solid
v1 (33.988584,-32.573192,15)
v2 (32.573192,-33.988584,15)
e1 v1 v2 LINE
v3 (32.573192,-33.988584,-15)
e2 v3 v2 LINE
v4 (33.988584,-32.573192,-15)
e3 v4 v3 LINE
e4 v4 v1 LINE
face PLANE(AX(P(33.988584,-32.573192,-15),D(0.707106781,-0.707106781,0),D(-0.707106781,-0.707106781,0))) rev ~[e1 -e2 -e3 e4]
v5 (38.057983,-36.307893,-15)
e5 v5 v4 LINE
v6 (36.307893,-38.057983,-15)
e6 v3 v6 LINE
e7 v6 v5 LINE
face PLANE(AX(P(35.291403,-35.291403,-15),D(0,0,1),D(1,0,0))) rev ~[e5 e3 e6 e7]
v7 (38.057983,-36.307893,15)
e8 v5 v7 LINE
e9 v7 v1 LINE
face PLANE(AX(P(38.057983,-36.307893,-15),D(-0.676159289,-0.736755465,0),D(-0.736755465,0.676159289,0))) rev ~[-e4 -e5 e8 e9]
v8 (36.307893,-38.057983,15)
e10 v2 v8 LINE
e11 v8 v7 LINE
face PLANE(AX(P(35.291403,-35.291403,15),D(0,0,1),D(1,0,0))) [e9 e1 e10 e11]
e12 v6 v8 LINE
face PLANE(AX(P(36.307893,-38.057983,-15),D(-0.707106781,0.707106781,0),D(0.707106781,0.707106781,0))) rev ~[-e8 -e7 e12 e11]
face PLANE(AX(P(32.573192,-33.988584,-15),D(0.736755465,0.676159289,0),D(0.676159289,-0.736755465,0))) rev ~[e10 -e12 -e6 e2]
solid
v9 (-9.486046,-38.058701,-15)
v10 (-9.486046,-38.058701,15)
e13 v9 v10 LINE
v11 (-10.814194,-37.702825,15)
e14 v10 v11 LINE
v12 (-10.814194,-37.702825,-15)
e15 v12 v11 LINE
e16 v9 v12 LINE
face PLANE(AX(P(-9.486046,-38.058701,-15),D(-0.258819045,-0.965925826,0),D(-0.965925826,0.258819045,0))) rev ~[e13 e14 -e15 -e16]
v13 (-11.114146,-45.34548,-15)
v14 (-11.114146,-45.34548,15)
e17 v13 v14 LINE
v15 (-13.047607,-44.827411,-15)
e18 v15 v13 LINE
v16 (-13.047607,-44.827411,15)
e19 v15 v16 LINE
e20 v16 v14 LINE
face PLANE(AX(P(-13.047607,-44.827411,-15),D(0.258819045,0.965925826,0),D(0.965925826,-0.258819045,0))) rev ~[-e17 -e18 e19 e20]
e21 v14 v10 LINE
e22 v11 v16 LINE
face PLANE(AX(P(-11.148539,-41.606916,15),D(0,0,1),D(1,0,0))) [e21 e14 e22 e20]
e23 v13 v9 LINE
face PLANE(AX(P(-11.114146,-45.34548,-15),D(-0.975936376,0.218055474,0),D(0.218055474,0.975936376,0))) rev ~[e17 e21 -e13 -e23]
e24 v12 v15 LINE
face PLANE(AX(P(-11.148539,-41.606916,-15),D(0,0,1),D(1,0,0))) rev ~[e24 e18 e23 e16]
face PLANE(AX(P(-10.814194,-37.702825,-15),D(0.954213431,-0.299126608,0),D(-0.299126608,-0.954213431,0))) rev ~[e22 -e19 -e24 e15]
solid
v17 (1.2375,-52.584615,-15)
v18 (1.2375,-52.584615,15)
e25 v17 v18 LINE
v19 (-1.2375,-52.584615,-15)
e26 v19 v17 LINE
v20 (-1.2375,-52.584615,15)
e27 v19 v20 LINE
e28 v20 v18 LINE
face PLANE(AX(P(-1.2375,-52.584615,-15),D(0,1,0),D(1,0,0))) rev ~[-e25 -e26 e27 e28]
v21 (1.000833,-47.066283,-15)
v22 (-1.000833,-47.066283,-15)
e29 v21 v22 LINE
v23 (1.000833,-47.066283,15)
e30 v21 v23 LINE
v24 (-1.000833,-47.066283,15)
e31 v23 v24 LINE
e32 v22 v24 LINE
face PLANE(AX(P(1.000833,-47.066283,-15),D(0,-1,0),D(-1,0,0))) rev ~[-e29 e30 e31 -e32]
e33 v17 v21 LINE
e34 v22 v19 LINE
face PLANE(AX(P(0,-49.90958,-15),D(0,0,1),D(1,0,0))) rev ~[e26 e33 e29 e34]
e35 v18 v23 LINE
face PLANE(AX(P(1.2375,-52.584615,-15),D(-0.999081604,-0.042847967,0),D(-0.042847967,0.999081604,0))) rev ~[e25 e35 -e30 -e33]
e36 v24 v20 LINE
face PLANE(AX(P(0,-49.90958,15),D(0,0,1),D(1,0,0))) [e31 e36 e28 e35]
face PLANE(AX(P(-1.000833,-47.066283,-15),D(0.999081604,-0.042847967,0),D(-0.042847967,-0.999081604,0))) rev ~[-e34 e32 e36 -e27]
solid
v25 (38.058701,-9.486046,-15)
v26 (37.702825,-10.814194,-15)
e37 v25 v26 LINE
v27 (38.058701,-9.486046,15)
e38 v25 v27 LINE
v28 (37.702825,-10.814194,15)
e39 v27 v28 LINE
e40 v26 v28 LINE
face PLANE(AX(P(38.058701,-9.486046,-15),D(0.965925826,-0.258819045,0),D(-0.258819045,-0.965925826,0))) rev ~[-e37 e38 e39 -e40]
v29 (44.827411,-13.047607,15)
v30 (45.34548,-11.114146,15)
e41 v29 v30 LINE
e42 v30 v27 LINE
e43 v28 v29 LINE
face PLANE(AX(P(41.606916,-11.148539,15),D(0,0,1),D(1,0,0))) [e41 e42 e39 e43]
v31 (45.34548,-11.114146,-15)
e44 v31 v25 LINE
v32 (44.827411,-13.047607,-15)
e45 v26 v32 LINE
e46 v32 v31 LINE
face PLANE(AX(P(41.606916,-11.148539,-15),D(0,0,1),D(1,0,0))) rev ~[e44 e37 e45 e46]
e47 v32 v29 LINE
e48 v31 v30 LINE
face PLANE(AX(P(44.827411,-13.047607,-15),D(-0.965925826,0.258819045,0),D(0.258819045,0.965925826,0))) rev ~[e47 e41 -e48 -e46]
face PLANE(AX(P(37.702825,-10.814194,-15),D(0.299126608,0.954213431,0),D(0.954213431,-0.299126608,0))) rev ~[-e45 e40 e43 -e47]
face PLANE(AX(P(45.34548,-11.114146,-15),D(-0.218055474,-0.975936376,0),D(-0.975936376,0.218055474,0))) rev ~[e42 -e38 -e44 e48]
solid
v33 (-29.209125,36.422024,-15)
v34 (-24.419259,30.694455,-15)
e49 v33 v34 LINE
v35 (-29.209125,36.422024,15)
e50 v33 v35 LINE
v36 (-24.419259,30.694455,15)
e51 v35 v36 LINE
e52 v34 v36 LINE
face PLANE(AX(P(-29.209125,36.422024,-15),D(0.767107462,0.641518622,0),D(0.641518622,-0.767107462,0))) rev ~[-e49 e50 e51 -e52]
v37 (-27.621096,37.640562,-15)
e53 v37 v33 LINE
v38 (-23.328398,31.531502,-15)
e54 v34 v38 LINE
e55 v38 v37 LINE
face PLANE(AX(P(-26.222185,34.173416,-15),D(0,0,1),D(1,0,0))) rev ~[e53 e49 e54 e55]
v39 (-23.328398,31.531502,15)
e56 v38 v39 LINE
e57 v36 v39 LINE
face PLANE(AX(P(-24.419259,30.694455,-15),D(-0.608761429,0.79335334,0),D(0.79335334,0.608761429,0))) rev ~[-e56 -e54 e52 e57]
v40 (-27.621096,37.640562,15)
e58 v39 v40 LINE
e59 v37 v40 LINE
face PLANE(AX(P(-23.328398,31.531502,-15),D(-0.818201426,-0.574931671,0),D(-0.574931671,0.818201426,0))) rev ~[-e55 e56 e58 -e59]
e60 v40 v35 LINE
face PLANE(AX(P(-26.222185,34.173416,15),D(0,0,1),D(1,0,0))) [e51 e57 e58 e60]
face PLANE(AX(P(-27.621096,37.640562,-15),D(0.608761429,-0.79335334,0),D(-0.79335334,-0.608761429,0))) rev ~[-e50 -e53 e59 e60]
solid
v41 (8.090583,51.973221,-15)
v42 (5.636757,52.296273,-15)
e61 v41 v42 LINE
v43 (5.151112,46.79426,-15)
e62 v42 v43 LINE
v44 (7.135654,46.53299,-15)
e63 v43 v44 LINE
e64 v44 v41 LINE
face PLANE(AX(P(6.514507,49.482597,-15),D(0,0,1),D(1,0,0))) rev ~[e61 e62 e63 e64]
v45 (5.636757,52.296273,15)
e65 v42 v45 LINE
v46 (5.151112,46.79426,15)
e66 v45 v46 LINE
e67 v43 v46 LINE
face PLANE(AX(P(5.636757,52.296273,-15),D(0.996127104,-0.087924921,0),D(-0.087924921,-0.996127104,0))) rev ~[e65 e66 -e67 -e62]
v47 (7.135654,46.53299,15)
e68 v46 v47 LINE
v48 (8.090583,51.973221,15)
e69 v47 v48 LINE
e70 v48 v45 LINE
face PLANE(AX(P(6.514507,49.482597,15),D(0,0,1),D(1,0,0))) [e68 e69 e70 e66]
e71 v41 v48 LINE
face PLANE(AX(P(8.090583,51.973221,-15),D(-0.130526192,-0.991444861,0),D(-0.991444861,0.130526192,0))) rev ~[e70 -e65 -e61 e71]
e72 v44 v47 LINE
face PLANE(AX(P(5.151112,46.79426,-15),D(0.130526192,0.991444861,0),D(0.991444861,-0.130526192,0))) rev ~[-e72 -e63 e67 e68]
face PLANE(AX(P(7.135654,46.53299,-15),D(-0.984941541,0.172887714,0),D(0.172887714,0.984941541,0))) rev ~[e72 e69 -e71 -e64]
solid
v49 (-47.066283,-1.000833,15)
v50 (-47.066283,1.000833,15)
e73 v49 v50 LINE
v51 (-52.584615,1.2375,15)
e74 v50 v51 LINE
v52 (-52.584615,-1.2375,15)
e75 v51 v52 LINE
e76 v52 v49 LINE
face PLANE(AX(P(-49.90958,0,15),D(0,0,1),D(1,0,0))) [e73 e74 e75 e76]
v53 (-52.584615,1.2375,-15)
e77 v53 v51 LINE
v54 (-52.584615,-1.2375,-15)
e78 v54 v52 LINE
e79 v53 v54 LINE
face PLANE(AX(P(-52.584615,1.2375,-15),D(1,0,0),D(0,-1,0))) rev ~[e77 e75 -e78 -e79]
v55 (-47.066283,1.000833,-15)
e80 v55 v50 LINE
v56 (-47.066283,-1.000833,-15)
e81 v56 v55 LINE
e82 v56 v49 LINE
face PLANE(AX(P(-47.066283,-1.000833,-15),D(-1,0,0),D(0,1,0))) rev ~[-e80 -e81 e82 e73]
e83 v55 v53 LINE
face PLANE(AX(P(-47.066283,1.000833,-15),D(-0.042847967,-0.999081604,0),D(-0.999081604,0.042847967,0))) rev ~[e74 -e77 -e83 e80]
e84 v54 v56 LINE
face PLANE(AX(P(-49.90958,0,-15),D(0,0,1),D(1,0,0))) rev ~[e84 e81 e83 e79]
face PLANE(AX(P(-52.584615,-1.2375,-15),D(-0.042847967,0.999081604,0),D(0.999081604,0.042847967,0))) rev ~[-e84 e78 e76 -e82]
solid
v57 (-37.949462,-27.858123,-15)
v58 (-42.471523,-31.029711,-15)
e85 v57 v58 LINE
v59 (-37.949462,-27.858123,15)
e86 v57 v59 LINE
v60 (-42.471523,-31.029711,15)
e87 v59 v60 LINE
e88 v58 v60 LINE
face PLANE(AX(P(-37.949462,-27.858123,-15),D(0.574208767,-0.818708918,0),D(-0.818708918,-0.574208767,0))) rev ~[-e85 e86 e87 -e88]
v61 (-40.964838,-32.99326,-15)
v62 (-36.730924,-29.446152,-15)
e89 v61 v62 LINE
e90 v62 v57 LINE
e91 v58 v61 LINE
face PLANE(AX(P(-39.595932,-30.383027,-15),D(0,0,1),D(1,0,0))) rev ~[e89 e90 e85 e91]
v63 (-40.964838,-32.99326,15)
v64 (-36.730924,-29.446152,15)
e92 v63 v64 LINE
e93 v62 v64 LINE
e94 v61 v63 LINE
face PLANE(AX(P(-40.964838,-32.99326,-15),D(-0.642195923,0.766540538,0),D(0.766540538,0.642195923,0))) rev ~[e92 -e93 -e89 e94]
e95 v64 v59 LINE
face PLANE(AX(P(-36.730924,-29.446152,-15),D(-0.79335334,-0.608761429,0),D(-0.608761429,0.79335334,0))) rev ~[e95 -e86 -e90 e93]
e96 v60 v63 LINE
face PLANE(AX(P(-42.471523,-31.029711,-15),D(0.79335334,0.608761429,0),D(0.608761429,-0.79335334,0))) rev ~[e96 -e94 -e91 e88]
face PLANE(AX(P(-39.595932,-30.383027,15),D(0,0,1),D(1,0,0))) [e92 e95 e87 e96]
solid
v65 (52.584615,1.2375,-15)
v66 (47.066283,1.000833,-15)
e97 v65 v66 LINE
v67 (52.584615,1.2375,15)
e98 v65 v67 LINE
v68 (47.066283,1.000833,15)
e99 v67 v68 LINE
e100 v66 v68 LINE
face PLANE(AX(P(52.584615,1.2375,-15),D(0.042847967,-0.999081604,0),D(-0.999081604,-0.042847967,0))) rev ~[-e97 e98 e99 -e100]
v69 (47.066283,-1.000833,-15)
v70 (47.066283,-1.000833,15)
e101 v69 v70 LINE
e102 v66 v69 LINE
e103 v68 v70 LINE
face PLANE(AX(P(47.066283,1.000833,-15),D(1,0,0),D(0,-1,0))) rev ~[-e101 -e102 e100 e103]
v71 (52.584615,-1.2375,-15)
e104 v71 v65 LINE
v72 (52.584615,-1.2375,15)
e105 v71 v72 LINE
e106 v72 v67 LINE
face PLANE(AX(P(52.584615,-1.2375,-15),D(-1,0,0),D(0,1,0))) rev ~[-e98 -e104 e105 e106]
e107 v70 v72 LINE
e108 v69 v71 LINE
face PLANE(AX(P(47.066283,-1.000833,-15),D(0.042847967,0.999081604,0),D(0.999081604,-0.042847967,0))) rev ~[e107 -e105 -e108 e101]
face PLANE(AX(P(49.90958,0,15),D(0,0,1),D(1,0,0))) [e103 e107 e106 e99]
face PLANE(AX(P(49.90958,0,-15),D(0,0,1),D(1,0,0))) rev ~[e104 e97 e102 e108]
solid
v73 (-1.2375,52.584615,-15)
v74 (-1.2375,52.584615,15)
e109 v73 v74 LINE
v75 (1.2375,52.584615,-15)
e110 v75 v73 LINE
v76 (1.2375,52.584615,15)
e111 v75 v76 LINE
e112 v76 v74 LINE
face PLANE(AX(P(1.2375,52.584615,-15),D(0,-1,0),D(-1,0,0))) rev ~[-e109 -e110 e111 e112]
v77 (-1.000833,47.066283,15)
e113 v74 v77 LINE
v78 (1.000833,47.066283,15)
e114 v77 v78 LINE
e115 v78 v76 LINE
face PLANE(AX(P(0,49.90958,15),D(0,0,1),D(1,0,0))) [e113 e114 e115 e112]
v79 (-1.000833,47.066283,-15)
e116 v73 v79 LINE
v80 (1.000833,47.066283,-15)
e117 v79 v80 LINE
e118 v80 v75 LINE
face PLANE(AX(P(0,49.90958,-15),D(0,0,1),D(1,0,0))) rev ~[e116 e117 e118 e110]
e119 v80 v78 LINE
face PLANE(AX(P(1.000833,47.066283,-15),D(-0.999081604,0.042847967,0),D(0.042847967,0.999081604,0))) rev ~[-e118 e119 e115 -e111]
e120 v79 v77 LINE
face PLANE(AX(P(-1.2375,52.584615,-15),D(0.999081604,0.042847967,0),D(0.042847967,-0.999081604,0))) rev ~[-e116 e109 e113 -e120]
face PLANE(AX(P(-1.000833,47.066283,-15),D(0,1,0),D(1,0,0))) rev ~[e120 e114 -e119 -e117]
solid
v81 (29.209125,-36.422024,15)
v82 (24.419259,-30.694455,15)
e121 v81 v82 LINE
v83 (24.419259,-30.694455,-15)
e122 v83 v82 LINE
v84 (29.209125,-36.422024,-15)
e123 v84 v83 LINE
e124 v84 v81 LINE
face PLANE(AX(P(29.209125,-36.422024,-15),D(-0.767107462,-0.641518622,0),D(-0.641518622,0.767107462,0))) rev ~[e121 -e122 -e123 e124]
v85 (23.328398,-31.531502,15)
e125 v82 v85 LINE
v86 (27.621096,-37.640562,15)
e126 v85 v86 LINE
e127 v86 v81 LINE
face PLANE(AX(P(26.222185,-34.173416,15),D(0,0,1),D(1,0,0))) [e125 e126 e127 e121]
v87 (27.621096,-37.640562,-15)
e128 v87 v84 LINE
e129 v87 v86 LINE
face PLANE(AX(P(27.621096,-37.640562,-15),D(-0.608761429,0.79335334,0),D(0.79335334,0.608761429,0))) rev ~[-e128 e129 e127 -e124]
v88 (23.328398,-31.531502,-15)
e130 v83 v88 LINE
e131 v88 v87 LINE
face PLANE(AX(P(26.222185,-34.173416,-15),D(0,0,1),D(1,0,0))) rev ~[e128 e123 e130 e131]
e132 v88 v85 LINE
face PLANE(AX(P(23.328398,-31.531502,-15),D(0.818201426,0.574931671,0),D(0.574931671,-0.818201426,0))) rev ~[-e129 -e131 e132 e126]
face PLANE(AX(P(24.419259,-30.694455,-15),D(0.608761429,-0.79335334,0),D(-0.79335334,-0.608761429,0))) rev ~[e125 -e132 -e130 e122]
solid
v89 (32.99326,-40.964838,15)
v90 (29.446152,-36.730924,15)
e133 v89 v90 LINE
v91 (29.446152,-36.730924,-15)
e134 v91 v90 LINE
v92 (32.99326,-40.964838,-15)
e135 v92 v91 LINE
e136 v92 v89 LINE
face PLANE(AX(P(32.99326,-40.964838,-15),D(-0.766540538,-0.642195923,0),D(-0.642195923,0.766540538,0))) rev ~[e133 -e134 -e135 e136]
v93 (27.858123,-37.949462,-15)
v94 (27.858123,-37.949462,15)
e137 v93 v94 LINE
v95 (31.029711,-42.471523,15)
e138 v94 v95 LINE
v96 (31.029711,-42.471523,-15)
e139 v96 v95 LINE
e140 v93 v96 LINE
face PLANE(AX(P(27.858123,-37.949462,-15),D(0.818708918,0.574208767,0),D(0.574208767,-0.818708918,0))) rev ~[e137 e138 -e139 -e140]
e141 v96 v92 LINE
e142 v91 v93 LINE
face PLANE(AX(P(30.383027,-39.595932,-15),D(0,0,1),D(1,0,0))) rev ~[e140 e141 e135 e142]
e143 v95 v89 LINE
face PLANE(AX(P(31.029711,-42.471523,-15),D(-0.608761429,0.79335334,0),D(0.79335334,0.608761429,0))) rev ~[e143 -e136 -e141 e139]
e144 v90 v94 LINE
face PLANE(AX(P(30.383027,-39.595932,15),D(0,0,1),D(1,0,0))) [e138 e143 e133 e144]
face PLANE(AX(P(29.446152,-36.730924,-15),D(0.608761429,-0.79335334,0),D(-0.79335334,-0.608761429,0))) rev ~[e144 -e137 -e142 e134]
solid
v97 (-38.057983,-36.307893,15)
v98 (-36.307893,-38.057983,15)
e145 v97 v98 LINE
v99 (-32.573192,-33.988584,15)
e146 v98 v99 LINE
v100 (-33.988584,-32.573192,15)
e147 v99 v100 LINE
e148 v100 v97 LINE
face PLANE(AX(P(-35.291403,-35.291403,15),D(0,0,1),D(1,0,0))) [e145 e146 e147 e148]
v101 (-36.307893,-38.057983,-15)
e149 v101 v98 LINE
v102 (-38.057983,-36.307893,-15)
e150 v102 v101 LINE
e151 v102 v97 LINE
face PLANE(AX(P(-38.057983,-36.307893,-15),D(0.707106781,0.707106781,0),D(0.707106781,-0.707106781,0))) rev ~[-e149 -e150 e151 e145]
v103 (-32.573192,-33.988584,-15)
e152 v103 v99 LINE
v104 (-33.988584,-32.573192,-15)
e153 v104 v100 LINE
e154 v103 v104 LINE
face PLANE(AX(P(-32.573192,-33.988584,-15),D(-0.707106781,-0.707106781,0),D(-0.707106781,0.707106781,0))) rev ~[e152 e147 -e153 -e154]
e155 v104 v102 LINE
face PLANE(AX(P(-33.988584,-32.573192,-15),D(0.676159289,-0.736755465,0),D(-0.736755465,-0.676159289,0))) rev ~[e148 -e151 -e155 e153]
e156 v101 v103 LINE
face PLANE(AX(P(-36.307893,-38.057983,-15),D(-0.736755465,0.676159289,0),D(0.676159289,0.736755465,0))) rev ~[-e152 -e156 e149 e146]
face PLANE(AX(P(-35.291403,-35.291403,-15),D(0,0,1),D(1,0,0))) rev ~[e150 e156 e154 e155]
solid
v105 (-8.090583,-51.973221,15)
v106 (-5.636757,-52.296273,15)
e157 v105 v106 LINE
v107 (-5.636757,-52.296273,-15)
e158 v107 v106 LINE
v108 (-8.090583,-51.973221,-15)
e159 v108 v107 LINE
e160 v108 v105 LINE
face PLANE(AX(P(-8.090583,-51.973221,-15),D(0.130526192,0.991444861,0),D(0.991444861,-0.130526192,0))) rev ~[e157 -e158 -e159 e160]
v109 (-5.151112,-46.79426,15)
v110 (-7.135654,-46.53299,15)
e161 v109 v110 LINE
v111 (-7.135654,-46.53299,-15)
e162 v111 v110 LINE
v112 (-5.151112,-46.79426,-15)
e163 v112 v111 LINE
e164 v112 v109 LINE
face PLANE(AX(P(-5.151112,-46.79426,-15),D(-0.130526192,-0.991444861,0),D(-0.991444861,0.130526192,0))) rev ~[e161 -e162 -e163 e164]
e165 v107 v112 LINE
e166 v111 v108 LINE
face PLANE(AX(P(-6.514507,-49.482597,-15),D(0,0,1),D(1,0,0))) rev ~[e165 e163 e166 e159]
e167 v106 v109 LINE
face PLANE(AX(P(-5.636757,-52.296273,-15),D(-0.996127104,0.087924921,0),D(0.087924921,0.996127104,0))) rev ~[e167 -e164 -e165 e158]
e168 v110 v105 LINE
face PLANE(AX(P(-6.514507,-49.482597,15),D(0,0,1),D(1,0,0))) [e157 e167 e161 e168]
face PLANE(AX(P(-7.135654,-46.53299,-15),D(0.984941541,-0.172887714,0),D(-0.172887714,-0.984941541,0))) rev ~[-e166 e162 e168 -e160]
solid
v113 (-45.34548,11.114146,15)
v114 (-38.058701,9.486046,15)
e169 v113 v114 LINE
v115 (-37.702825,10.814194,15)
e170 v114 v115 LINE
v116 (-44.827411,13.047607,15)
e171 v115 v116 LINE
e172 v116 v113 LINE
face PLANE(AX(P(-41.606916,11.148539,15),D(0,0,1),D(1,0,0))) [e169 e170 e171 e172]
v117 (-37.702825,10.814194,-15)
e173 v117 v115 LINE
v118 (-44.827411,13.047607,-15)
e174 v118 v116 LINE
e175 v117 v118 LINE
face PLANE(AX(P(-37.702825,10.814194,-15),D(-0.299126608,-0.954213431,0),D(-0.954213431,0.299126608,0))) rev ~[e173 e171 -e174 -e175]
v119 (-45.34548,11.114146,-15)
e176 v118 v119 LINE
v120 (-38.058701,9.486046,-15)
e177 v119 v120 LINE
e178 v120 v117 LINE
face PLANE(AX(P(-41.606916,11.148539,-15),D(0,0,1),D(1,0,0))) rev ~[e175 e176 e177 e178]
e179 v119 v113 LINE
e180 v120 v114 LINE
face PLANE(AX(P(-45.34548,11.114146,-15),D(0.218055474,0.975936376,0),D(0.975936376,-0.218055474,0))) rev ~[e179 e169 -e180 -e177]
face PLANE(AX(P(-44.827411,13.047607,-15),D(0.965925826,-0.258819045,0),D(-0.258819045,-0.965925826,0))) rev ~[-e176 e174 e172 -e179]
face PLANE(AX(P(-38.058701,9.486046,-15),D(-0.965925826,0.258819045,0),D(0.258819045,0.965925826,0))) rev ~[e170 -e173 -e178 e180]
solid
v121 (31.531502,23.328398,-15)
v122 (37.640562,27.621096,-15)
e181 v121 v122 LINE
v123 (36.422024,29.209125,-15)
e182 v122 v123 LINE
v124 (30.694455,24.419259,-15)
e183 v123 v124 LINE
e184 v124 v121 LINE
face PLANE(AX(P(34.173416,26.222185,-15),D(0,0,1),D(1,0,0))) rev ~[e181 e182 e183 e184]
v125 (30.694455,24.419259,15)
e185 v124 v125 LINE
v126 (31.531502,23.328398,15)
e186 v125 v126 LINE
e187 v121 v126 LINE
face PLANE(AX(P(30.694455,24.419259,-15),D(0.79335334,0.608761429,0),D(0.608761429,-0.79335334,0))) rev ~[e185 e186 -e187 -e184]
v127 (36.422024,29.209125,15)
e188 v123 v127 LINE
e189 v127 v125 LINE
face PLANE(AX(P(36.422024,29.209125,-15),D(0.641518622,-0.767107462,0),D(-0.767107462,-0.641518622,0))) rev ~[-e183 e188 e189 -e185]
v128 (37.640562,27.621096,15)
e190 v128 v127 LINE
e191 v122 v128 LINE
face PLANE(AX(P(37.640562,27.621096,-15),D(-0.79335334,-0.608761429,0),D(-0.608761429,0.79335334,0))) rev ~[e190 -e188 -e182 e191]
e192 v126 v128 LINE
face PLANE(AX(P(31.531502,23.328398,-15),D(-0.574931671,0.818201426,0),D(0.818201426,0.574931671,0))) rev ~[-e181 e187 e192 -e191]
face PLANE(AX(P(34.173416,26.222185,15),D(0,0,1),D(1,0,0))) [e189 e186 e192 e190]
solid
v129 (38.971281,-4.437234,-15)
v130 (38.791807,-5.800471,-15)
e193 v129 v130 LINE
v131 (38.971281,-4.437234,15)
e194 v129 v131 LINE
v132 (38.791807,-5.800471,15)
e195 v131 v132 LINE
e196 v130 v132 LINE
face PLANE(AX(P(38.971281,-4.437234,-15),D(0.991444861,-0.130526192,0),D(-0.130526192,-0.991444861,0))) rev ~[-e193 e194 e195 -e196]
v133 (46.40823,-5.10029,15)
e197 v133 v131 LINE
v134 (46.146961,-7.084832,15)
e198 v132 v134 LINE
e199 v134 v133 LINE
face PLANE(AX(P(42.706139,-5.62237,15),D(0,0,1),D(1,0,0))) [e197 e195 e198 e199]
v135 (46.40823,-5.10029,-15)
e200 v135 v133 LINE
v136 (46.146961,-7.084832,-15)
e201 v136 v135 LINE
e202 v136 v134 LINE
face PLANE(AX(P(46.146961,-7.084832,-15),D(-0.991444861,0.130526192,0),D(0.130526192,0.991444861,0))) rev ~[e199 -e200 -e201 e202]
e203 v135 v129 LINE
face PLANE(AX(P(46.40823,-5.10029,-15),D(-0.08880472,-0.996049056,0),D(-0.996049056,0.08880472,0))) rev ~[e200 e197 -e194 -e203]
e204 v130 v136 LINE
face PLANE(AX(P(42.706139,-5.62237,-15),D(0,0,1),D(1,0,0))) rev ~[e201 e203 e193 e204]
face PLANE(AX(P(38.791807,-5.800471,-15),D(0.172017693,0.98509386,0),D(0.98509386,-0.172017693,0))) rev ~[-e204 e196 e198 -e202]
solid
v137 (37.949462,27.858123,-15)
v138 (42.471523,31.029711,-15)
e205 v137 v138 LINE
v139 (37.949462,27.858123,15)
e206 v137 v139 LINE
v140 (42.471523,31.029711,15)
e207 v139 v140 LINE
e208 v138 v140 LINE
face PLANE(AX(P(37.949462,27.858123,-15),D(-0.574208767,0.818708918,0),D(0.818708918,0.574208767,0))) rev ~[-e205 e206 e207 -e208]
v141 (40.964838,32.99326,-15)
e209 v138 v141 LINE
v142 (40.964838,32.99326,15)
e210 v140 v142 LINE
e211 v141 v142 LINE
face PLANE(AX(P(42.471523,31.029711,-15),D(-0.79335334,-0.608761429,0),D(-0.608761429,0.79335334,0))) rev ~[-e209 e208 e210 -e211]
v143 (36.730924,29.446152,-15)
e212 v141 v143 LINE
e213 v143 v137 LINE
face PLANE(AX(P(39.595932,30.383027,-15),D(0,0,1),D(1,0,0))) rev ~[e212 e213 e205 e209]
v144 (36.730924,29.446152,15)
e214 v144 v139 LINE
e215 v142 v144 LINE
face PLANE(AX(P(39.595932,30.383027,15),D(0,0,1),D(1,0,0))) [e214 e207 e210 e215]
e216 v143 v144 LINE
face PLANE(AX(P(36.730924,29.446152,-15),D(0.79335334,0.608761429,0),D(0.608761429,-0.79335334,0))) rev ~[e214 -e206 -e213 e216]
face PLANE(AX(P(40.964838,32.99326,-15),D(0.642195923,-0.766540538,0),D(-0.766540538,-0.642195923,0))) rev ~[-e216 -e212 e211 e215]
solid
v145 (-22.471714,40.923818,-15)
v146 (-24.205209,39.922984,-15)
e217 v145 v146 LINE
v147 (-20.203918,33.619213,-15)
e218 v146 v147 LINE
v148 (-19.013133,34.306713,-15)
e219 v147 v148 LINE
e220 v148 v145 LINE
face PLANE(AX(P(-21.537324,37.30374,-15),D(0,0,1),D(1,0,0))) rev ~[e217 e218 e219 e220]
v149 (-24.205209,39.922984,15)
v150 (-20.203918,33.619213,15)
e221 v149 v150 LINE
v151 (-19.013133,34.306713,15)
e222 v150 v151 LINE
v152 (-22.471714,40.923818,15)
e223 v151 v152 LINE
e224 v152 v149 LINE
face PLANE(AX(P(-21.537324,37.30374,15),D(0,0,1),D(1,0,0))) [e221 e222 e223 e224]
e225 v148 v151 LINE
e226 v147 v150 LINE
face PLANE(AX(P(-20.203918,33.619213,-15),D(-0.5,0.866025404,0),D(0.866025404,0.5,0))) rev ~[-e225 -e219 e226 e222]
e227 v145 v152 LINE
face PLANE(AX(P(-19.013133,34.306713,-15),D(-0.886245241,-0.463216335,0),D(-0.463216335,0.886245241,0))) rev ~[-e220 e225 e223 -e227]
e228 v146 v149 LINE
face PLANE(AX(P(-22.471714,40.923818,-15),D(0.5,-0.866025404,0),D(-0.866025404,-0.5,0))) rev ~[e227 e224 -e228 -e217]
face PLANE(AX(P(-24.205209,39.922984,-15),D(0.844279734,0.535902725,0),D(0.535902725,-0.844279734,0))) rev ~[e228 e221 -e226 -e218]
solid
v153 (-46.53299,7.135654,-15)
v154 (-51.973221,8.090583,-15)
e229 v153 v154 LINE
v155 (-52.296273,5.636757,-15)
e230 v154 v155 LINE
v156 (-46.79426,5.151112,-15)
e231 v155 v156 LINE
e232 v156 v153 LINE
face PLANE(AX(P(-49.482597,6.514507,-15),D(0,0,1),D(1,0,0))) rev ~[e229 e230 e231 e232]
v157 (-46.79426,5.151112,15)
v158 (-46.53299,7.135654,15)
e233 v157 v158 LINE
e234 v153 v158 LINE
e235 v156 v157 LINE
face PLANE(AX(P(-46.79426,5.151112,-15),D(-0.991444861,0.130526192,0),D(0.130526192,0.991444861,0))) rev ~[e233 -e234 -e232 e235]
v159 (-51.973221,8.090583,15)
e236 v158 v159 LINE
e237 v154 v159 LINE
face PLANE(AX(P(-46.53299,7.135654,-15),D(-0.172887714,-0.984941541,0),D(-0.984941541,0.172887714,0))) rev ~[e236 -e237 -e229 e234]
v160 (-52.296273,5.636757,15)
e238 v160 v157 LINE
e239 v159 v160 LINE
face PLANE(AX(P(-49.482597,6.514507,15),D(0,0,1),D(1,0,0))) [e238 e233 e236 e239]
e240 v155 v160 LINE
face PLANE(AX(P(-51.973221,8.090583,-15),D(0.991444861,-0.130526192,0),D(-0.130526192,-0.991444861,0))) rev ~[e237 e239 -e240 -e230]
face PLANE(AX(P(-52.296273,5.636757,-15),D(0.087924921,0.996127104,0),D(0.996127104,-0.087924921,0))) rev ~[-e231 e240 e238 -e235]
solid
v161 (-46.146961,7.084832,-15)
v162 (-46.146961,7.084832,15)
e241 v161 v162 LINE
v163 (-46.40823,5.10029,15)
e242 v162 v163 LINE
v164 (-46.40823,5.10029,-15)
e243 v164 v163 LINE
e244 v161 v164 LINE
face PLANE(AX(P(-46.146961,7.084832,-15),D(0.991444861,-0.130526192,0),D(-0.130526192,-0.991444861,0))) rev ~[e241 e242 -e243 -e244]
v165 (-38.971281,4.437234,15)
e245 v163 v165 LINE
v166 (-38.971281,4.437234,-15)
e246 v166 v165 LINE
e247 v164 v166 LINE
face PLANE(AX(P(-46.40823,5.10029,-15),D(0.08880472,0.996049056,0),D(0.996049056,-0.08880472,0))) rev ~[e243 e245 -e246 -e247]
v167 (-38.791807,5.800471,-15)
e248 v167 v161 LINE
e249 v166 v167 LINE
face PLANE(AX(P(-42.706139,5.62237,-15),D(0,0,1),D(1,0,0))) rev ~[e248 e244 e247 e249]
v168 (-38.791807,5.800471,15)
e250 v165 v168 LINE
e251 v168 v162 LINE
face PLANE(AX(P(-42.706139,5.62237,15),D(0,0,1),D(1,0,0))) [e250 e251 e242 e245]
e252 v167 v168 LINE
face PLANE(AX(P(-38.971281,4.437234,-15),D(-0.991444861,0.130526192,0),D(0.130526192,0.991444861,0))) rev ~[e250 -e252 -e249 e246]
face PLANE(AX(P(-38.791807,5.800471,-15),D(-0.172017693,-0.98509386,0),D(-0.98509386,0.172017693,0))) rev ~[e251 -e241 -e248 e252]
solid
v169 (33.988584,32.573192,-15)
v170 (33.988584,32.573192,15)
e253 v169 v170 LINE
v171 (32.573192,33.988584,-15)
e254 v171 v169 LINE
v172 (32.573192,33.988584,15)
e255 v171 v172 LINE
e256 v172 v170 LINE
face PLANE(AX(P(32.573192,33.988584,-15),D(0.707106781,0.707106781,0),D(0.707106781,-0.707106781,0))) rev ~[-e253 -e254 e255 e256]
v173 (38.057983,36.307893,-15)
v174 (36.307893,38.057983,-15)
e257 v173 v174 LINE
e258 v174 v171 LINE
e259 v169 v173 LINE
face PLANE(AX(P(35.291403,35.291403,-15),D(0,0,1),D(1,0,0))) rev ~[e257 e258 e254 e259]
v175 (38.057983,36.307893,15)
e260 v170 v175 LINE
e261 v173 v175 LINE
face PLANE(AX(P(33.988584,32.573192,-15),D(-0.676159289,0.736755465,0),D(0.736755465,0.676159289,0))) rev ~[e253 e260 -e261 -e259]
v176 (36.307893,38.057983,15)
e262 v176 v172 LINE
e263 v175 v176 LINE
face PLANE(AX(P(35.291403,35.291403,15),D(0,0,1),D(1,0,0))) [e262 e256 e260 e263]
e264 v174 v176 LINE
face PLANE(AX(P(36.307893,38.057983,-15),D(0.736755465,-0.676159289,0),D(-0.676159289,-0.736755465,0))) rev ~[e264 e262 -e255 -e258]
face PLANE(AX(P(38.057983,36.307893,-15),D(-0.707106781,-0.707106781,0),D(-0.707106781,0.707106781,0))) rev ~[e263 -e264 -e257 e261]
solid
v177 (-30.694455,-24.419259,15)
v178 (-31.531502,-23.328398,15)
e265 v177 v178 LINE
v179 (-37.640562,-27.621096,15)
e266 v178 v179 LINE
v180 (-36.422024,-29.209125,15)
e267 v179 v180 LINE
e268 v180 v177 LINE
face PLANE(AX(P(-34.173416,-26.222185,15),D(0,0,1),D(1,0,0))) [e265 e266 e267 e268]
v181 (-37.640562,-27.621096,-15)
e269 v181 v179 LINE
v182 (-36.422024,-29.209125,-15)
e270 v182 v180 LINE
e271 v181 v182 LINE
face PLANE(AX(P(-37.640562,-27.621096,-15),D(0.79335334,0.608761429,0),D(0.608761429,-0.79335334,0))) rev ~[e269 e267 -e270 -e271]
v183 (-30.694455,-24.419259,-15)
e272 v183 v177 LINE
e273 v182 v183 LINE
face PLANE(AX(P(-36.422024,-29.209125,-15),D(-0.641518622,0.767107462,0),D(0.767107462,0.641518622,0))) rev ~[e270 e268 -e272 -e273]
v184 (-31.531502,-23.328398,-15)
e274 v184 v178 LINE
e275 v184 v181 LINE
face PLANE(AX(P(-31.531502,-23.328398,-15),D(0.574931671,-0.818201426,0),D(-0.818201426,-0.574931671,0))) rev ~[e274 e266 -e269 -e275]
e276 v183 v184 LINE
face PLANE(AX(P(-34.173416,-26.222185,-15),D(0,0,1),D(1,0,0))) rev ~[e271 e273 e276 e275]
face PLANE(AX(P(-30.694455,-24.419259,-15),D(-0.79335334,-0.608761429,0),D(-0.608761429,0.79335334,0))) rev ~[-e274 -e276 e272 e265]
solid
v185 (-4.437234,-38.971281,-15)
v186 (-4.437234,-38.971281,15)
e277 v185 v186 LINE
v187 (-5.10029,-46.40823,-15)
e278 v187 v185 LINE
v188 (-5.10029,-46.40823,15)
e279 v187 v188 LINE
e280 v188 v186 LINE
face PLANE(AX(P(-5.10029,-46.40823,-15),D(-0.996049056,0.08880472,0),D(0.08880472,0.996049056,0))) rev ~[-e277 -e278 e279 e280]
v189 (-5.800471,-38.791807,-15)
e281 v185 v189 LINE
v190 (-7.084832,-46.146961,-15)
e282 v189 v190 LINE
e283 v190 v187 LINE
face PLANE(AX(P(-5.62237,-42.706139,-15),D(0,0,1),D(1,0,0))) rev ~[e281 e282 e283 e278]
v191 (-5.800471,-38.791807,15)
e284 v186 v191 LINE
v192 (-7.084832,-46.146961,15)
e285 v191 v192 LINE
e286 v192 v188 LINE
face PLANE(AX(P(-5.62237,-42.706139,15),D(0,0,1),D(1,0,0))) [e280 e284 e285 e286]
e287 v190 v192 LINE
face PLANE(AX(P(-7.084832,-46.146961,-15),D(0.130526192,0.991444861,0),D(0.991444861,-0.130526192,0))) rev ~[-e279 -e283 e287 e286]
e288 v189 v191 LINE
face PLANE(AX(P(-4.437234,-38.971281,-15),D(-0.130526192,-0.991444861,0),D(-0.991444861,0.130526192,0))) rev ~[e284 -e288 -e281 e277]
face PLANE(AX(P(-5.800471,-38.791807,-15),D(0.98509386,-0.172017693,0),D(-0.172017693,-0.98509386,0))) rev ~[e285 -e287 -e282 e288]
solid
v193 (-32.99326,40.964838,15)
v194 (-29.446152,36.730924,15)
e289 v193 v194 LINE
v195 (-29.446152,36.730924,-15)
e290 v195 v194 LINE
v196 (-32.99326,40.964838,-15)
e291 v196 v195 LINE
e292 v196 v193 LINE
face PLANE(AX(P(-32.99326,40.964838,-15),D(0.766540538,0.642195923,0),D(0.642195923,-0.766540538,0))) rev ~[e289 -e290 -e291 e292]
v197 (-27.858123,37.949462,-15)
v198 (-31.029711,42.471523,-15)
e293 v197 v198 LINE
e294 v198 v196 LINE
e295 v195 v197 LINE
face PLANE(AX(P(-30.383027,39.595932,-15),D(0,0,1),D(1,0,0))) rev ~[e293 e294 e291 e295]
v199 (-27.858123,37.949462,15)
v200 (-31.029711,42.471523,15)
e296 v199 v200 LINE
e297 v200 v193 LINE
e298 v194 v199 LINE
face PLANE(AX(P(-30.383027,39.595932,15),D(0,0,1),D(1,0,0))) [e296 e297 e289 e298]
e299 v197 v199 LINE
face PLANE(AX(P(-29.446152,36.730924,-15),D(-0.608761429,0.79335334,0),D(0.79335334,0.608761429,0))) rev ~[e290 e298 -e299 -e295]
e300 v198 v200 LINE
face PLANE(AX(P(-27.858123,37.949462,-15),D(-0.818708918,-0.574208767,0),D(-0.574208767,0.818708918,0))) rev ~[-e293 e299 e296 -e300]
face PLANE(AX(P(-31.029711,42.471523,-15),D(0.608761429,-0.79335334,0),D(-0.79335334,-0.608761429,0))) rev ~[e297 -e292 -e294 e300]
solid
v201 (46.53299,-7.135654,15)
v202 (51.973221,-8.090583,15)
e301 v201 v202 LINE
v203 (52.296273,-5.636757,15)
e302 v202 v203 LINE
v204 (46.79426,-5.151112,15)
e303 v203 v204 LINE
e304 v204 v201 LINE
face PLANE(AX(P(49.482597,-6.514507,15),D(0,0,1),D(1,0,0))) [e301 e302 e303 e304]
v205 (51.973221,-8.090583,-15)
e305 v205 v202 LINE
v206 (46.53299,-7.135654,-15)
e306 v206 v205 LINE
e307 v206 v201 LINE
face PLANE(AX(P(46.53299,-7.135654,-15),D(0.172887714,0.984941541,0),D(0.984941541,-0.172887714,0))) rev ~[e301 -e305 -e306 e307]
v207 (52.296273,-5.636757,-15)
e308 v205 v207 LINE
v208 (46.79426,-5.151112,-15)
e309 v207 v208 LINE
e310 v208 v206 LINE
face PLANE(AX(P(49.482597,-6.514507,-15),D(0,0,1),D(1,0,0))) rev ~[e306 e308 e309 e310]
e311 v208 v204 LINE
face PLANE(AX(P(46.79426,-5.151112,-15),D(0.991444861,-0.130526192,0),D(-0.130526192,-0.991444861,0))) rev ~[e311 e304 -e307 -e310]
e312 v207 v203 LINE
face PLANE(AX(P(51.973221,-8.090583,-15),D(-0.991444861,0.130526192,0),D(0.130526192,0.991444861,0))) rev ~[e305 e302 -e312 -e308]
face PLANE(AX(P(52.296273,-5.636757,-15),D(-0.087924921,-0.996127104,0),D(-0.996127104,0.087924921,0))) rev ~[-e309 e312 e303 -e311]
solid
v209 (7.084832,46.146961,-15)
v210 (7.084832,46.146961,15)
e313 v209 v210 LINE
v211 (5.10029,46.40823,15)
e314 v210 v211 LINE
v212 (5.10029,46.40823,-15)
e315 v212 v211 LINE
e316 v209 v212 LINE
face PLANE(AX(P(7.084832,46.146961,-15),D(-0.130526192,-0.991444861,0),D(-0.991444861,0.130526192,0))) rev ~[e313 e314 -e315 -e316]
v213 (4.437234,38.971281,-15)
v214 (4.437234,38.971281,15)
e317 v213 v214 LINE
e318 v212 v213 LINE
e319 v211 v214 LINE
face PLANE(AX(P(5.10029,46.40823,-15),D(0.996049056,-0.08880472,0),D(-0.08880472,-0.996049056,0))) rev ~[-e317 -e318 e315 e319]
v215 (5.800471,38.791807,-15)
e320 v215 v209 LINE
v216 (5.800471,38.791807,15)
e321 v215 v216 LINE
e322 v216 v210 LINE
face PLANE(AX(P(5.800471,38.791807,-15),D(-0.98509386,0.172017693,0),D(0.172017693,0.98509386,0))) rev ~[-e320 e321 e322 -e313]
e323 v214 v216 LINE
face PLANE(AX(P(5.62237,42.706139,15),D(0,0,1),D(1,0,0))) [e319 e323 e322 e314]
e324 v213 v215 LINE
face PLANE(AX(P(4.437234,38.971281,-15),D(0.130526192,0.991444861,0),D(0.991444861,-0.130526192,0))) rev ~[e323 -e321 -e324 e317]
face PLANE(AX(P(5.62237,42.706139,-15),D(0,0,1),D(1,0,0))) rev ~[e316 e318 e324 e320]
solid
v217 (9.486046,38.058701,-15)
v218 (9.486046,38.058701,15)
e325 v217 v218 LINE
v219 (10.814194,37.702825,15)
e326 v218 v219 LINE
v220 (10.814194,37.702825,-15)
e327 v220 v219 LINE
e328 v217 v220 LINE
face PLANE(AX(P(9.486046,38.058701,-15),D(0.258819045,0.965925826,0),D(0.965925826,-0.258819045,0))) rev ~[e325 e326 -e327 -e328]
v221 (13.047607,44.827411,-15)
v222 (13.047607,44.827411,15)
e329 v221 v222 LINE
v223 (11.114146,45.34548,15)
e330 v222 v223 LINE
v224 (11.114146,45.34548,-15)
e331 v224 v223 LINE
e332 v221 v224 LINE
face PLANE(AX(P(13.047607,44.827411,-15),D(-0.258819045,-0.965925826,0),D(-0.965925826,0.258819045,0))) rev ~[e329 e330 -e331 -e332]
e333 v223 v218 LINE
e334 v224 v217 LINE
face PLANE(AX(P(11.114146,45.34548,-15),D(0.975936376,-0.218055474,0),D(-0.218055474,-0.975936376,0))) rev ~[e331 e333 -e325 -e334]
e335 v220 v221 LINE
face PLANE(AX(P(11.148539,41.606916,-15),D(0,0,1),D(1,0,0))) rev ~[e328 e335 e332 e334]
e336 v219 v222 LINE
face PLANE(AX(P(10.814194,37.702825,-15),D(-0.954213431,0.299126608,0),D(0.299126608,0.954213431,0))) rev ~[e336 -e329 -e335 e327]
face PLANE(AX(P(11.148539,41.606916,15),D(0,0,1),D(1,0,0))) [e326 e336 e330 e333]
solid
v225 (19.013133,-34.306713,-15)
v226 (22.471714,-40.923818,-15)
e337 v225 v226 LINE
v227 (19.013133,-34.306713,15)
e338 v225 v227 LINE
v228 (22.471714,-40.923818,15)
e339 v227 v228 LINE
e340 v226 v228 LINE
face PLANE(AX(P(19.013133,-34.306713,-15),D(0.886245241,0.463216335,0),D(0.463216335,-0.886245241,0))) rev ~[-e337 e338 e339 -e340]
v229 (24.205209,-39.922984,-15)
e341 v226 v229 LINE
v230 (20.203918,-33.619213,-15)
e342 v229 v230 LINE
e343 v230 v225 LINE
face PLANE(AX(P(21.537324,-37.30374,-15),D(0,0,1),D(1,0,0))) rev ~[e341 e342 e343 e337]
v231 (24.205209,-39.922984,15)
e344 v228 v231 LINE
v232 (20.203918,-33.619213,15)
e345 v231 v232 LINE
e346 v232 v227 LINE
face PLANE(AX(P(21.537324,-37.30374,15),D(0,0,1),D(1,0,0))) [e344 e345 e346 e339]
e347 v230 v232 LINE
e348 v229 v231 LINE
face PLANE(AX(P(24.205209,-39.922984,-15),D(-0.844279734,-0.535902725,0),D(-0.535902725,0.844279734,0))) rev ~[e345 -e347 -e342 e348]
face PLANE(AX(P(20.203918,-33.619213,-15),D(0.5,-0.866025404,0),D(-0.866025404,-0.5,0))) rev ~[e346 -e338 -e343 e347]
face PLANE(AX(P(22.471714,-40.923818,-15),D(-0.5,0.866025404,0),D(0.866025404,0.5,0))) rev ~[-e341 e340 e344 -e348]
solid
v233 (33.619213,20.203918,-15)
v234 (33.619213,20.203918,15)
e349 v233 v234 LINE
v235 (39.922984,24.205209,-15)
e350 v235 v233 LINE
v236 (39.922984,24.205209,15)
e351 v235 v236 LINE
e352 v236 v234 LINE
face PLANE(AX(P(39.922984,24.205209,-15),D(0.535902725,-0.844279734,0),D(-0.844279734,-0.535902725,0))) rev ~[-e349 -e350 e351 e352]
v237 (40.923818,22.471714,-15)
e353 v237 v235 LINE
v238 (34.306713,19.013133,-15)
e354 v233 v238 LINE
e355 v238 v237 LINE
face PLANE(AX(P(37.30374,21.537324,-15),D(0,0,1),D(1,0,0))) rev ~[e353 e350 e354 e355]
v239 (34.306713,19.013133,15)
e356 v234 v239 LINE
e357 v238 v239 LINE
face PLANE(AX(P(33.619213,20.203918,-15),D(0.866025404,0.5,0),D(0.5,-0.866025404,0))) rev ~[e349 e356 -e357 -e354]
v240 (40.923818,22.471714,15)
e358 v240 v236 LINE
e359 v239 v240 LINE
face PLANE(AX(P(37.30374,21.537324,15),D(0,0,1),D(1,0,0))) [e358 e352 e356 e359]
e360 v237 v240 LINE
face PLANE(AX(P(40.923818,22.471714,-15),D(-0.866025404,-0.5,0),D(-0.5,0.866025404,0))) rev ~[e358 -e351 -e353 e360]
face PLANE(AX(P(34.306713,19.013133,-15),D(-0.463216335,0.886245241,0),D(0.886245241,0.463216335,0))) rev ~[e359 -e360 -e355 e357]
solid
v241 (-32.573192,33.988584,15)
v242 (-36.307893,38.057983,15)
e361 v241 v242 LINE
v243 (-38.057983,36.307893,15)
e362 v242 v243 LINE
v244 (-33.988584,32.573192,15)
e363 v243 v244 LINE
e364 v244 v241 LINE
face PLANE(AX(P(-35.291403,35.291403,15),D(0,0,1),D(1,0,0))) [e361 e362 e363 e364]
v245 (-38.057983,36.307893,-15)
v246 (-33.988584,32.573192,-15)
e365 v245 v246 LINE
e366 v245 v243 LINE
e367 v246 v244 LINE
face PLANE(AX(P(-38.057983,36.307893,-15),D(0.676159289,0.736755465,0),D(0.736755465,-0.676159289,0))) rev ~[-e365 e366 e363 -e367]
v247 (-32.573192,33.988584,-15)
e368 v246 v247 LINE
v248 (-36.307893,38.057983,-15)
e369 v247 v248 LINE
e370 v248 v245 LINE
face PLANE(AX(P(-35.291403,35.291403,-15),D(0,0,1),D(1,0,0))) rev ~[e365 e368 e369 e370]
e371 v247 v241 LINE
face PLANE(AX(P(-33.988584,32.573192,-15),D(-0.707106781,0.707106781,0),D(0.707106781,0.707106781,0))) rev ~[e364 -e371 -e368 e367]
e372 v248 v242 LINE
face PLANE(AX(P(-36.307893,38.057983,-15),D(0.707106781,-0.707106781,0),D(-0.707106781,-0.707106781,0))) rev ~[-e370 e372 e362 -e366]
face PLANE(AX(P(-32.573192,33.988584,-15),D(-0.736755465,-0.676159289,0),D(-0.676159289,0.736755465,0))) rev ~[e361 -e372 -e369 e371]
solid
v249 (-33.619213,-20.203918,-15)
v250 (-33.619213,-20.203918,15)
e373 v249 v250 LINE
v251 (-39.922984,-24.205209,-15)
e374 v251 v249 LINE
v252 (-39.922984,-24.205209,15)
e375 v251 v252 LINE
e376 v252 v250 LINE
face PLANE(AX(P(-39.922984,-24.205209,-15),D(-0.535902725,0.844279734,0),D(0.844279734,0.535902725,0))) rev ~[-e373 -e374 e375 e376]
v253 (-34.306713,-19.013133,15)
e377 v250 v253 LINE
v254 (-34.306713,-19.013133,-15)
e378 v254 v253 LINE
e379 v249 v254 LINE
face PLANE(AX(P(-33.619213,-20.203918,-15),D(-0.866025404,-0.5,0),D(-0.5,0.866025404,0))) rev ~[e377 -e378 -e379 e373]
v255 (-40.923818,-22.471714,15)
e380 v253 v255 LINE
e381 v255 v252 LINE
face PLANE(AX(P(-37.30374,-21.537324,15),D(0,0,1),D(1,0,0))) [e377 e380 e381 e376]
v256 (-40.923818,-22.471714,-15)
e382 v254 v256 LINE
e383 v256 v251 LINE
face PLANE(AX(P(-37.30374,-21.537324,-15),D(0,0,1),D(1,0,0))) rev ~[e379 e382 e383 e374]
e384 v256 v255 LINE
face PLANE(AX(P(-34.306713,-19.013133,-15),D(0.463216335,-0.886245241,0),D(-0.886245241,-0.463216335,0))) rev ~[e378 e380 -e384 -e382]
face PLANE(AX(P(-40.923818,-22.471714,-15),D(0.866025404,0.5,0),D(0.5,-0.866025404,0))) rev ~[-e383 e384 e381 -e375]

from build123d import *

# Parameters (mm, degrees)
SLOT_COPPER_ENVELOPES_START    = -15
SLOT_COPPER_ENVELOPES_DEPTH    = 30
SLOT_COPPER_ENVELOPES_2_DEPTH  = 30
SLOT_COPPER_ENVELOPES_3_DEPTH  = 30
SLOT_COPPER_ENVELOPES_4_DEPTH  = 30
SLOT_COPPER_ENVELOPES_5_DEPTH  = 30
SLOT_COPPER_ENVELOPES_6_DEPTH  = 30
SLOT_COPPER_ENVELOPES_7_DEPTH  = 30
SLOT_COPPER_ENVELOPES_8_DEPTH  = 30
SLOT_COPPER_ENVELOPES_9_DEPTH  = 30
SLOT_COPPER_ENVELOPES_10_DEPTH = 30
SLOT_COPPER_ENVELOPES_11_DEPTH = 30
SLOT_COPPER_ENVELOPES_12_DEPTH = 30
SLOT_COPPER_ENVELOPES_13_DEPTH = 30
SLOT_COPPER_ENVELOPES_14_DEPTH = 30
SLOT_COPPER_ENVELOPES_15_DEPTH = 30
SLOT_COPPER_ENVELOPES_16_DEPTH = 30
SLOT_COPPER_ENVELOPES_17_DEPTH = 30
SLOT_COPPER_ENVELOPES_18_DEPTH = 30
SLOT_COPPER_ENVELOPES_19_DEPTH = 30
SLOT_COPPER_ENVELOPES_20_DEPTH = 30
SLOT_COPPER_ENVELOPES_21_DEPTH = 30
SLOT_COPPER_ENVELOPES_22_DEPTH = 30
SLOT_COPPER_ENVELOPES_23_DEPTH = 30
SLOT_COPPER_ENVELOPES_24_DEPTH = 30
SLOT_COPPER_ENVELOPES_25_DEPTH = 30
SLOT_COPPER_ENVELOPES_26_DEPTH = 30
SLOT_COPPER_ENVELOPES_27_DEPTH = 30
SLOT_COPPER_ENVELOPES_28_DEPTH = 30
SLOT_COPPER_ENVELOPES_29_DEPTH = 30
SLOT_COPPER_ENVELOPES_30_DEPTH = 30
SLOT_COPPER_ENVELOPES_31_DEPTH = 30
SLOT_COPPER_ENVELOPES_32_DEPTH = 30


with BuildPart() as part:
    # Эскиз1 → Slot_copper_envelopes (new body)
    with BuildSketch(Plane.XY.offset(SLOT_COPPER_ENVELOPES_START)):
        Polygon((47.066283251, -1.000833333), (52.584615385, -1.2375), (52.584615385, 1.2375), (47.066283251, 1.000833333), align=None)
    extrude(amount=SLOT_COPPER_ENVELOPES_DEPTH)


with BuildPart() as body_2:
    # Эскиз1 → Slot_copper_envelopes 2 (new body)
    with BuildSketch(Plane.XY.offset(SLOT_COPPER_ENVELOPES_START)):
        Polygon((34.306712625, 19.013133149), (40.923817822, 22.471714447), (39.922984488, 24.20520863), (33.619212625, 20.203918079), align=None)
    extrude(amount=SLOT_COPPER_ENVELOPES_2_DEPTH)


with BuildPart() as body_3:
    # Эскиз1 → Slot_copper_envelopes 3 (new body)
    with BuildSketch(Plane.XY.offset(SLOT_COPPER_ENVELOPES_START)):
        Polygon((37.949461762, 27.858123382), (42.471522532, 31.029710847), (40.964837995, 32.993260364), (36.730924302, 29.446152318), align=None)
    extrude(amount=SLOT_COPPER_ENVELOPES_3_DEPTH)


with BuildPart() as body_4:
    # Эскиз1 → Slot_copper_envelopes 4 (new body)
    with BuildSketch(Plane.XY.offset(SLOT_COPPER_ENVELOPES_START)):
        Polygon((31.531502071, 23.328397726), (37.640561568, 27.621095926), (36.422024107, 29.209124862), (30.694455106, 24.419258569), align=None)
    extrude(amount=SLOT_COPPER_ENVELOPES_4_DEPTH)


with BuildPart() as body_5:
    # Эскиз1 → Slot_copper_envelopes 5 (new body)
    with BuildSketch(Plane.XY.offset(SLOT_COPPER_ENVELOPES_START)):
        Polygon((33.988584089, 32.573192015), (38.057982766, 36.307893483), (36.307893483, 38.057982766), (32.573192015, 33.988584089), align=None)
    extrude(amount=SLOT_COPPER_ENVELOPES_5_DEPTH)


with BuildPart() as body_6:
    # Эскиз1 → Slot_copper_envelopes 6 (new body)
    with BuildSketch(Plane.XY.offset(SLOT_COPPER_ENVELOPES_START)):
        Polygon((10.814193756, 37.702824519), (13.047607424, 44.827410764), (11.114145895, 45.345480219), (9.486045745, 38.058700706), align=None)
    extrude(amount=SLOT_COPPER_ENVELOPES_6_DEPTH)


with BuildPart() as body_7:
    # Эскиз1 → Slot_copper_envelopes 7 (new body)
    with BuildSketch(Plane.XY.offset(SLOT_COPPER_ENVELOPES_START)):
        Polygon((7.1356538, 46.532989709), (8.090582631, 51.973220548), (5.6367566, 52.296272873), (5.151111669, 46.794259637), align=None)
    extrude(amount=SLOT_COPPER_ENVELOPES_7_DEPTH)


with BuildPart() as body_8:
    # Эскиз1 → Slot_copper_envelopes 8 (new body)
    with BuildSketch(Plane.XY.offset(SLOT_COPPER_ENVELOPES_START)):
        Polygon((5.800470709, 38.791807162), (7.084832099, 46.146960565), (5.100289968, 46.408230493), (4.437234025, 38.971280676), align=None)
    extrude(amount=SLOT_COPPER_ENVELOPES_8_DEPTH)


with BuildPart() as body_9:
    # Эскиз1 → Slot_copper_envelopes 9 (new body)
    with BuildSketch(Plane.XY.offset(SLOT_COPPER_ENVELOPES_START)):
        Polygon((1.000833333, 47.066283251), (1.2375, 52.584615385), (-1.2375, 52.584615385), (-1.000833333, 47.066283251), align=None)
    extrude(amount=SLOT_COPPER_ENVELOPES_9_DEPTH)


with BuildPart() as body_10:
    # Эскиз1 → Slot_copper_envelopes 10 (new body)
    with BuildSketch(Plane.XY.offset(SLOT_COPPER_ENVELOPES_START)):
        Polygon((-19.013133149, 34.306712625), (-22.471714447, 40.923817822), (-24.20520863, 39.922984488), (-20.203918079, 33.619212625), align=None)
    extrude(amount=SLOT_COPPER_ENVELOPES_10_DEPTH)


with BuildPart() as body_11:
    # Эскиз1 → Slot_copper_envelopes 11 (new body)
    with BuildSketch(Plane.XY.offset(SLOT_COPPER_ENVELOPES_START)):
        Polygon((-27.858123382, 37.949461762), (-31.029710847, 42.471522532), (-32.993260364, 40.964837995), (-29.446152318, 36.730924302), align=None)
    extrude(amount=SLOT_COPPER_ENVELOPES_11_DEPTH)


with BuildPart() as body_12:
    # Эскиз1 → Slot_copper_envelopes 12 (new body)
    with BuildSketch(Plane.XY.offset(SLOT_COPPER_ENVELOPES_START)):
        Polygon((-23.328397726, 31.531502071), (-27.621095926, 37.640561568), (-29.209124862, 36.422024107), (-24.419258569, 30.694455106), align=None)
    extrude(amount=SLOT_COPPER_ENVELOPES_12_DEPTH)


with BuildPart() as body_13:
    # Эскиз1 → Slot_copper_envelopes 13 (new body)
    with BuildSketch(Plane.XY.offset(SLOT_COPPER_ENVELOPES_START)):
        Polygon((-32.573192015, 33.988584089), (-36.307893483, 38.057982766), (-38.057982766, 36.307893483), (-33.988584089, 32.573192015), align=None)
    extrude(amount=SLOT_COPPER_ENVELOPES_13_DEPTH)


with BuildPart() as body_14:
    # Эскиз1 → Slot_copper_envelopes 14 (new body)
    with BuildSketch(Plane.XY.offset(SLOT_COPPER_ENVELOPES_START)):
        Polygon((-37.702824519, 10.814193756), (-44.827410764, 13.047607424), (-45.345480219, 11.114145895), (-38.058700706, 9.486045745), align=None)
    extrude(amount=SLOT_COPPER_ENVELOPES_14_DEPTH)


with BuildPart() as body_15:
    # Эскиз1 → Slot_copper_envelopes 15 (new body)
    with BuildSketch(Plane.XY.offset(SLOT_COPPER_ENVELOPES_START)):
        Polygon((-46.532989709, 7.1356538), (-51.973220548, 8.090582631), (-52.296272873, 5.6367566), (-46.794259637, 5.151111669), align=None)
    extrude(amount=SLOT_COPPER_ENVELOPES_15_DEPTH)


with BuildPart() as body_16:
    # Эскиз1 → Slot_copper_envelopes 16 (new body)
    with BuildSketch(Plane.XY.offset(SLOT_COPPER_ENVELOPES_START)):
        Polygon((-38.791807162, 5.800470709), (-46.146960565, 7.084832099), (-46.408230493, 5.100289968), (-38.971280676, 4.437234025), align=None)
    extrude(amount=SLOT_COPPER_ENVELOPES_16_DEPTH)


with BuildPart() as body_17:
    # Эскиз1 → Slot_copper_envelopes 17 (new body)
    with BuildSketch(Plane.XY.offset(SLOT_COPPER_ENVELOPES_START)):
        Polygon((-47.066283251, 1.000833333), (-52.584615385, 1.2375), (-52.584615385, -1.2375), (-47.066283251, -1.000833333), align=None)
    extrude(amount=SLOT_COPPER_ENVELOPES_17_DEPTH)


with BuildPart() as body_18:
    # Эскиз1 → Slot_copper_envelopes 18 (new body)
    with BuildSketch(Plane.XY.offset(SLOT_COPPER_ENVELOPES_START)):
        Polygon((-34.306712625, -19.013133149), (-40.923817822, -22.471714447), (-39.922984488, -24.20520863), (-33.619212625, -20.203918079), align=None)
    extrude(amount=SLOT_COPPER_ENVELOPES_18_DEPTH)


with BuildPart() as body_19:
    # Эскиз1 → Slot_copper_envelopes 19 (new body)
    with BuildSketch(Plane.XY.offset(SLOT_COPPER_ENVELOPES_START)):
        Polygon((-37.949461762, -27.858123382), (-42.471522532, -31.029710847), (-40.964837995, -32.993260364), (-36.730924302, -29.446152318), align=None)
    extrude(amount=SLOT_COPPER_ENVELOPES_19_DEPTH)


with BuildPart() as body_20:
    # Эскиз1 → Slot_copper_envelopes 20 (new body)
    with BuildSketch(Plane.XY.offset(SLOT_COPPER_ENVELOPES_START)):
        Polygon((-31.531502071, -23.328397726), (-37.640561568, -27.621095926), (-36.422024107, -29.209124862), (-30.694455106, -24.419258569), align=None)
    extrude(amount=SLOT_COPPER_ENVELOPES_20_DEPTH)


with BuildPart() as body_21:
    # Эскиз1 → Slot_copper_envelopes 21 (new body)
    with BuildSketch(Plane.XY.offset(SLOT_COPPER_ENVELOPES_START)):
        Polygon((-33.988584089, -32.573192015), (-38.057982766, -36.307893483), (-36.307893483, -38.057982766), (-32.573192015, -33.988584089), align=None)
    extrude(amount=SLOT_COPPER_ENVELOPES_21_DEPTH)


with BuildPart() as body_22:
    # Эскиз1 → Slot_copper_envelopes 22 (new body)
    with BuildSketch(Plane.XY.offset(SLOT_COPPER_ENVELOPES_START)):
        Polygon((-10.814193756, -37.702824519), (-13.047607424, -44.827410764), (-11.114145895, -45.345480219), (-9.486045745, -38.058700706), align=None)
    extrude(amount=SLOT_COPPER_ENVELOPES_22_DEPTH)


with BuildPart() as body_23:
    # Эскиз1 → Slot_copper_envelopes 23 (new body)
    with BuildSketch(Plane.XY.offset(SLOT_COPPER_ENVELOPES_START)):
        Polygon((-7.1356538, -46.532989709), (-8.090582631, -51.973220548), (-5.6367566, -52.296272873), (-5.151111669, -46.794259637), align=None)
    extrude(amount=SLOT_COPPER_ENVELOPES_23_DEPTH)


with BuildPart() as body_24:
    # Эскиз1 → Slot_copper_envelopes 24 (new body)
    with BuildSketch(Plane.XY.offset(SLOT_COPPER_ENVELOPES_START)):
        Polygon((-5.800470709, -38.791807162), (-7.084832099, -46.146960565), (-5.100289968, -46.408230493), (-4.437234025, -38.971280676), align=None)
    extrude(amount=SLOT_COPPER_ENVELOPES_24_DEPTH)


with BuildPart() as body_25:
    # Эскиз1 → Slot_copper_envelopes 25 (new body)
    with BuildSketch(Plane.XY.offset(SLOT_COPPER_ENVELOPES_START)):
        Polygon((-1.000833333, -47.066283251), (-1.2375, -52.584615385), (1.2375, -52.584615385), (1.000833333, -47.066283251), align=None)
    extrude(amount=SLOT_COPPER_ENVELOPES_25_DEPTH)


with BuildPart() as body_26:
    # Эскиз1 → Slot_copper_envelopes 26 (new body)
    with BuildSketch(Plane.XY.offset(SLOT_COPPER_ENVELOPES_START)):
        Polygon((19.013133149, -34.306712625), (22.471714447, -40.923817822), (24.20520863, -39.922984488), (20.203918079, -33.619212625), align=None)
    extrude(amount=SLOT_COPPER_ENVELOPES_26_DEPTH)


with BuildPart() as body_27:
    # Эскиз1 → Slot_copper_envelopes 27 (new body)
    with BuildSketch(Plane.XY.offset(SLOT_COPPER_ENVELOPES_START)):
        Polygon((27.858123382, -37.949461762), (31.029710847, -42.471522532), (32.993260364, -40.964837995), (29.446152318, -36.730924302), align=None)
    extrude(amount=SLOT_COPPER_ENVELOPES_27_DEPTH)


with BuildPart() as body_28:
    # Эскиз1 → Slot_copper_envelopes 28 (new body)
    with BuildSketch(Plane.XY.offset(SLOT_COPPER_ENVELOPES_START)):
        Polygon((23.328397726, -31.531502071), (27.621095926, -37.640561568), (29.209124862, -36.422024107), (24.419258569, -30.694455106), align=None)
    extrude(amount=SLOT_COPPER_ENVELOPES_28_DEPTH)


with BuildPart() as body_29:
    # Эскиз1 → Slot_copper_envelopes 29 (new body)
    with BuildSketch(Plane.XY.offset(SLOT_COPPER_ENVELOPES_START)):
        Polygon((32.573192015, -33.988584089), (36.307893483, -38.057982766), (38.057982766, -36.307893483), (33.988584089, -32.573192015), align=None)
    extrude(amount=SLOT_COPPER_ENVELOPES_29_DEPTH)


with BuildPart() as body_30:
    # Эскиз1 → Slot_copper_envelopes 30 (new body)
    with BuildSketch(Plane.XY.offset(SLOT_COPPER_ENVELOPES_START)):
        Polygon((37.702824519, -10.814193756), (44.827410764, -13.047607424), (45.345480219, -11.114145895), (38.058700706, -9.486045745), align=None)
    extrude(amount=SLOT_COPPER_ENVELOPES_30_DEPTH)


with BuildPart() as body_31:
    # Эскиз1 → Slot_copper_envelopes 31 (new body)
    with BuildSketch(Plane.XY.offset(SLOT_COPPER_ENVELOPES_START)):
        Polygon((46.532989709, -7.1356538), (51.973220548, -8.090582631), (52.296272873, -5.6367566), (46.794259637, -5.151111669), align=None)
    extrude(amount=SLOT_COPPER_ENVELOPES_31_DEPTH)


with BuildPart() as body_32:
    # Эскиз1 → Slot_copper_envelopes 32 (new body)
    with BuildSketch(Plane.XY.offset(SLOT_COPPER_ENVELOPES_START)):
        Polygon((38.791807162, -5.800470709), (46.146960565, -7.084832099), (46.408230493, -5.100289968), (38.971280676, -4.437234025), align=None)
    extrude(amount=SLOT_COPPER_ENVELOPES_32_DEPTH)


solid = Compound([part.part, body_2.part, body_3.part, body_4.part, body_5.part, body_6.part, body_7.part, body_8.part, body_9.part, body_10.part, body_11.part, body_12.part, body_13.part, body_14.part, body_15.part, body_16.part, body_17.part, body_18.part, body_19.part, body_20.part, body_21.part, body_22.part, body_23.part, body_24.part, body_25.part, body_26.part, body_27.part, body_28.part, body_29.part, body_30.part, body_31.part, body_32.part])
